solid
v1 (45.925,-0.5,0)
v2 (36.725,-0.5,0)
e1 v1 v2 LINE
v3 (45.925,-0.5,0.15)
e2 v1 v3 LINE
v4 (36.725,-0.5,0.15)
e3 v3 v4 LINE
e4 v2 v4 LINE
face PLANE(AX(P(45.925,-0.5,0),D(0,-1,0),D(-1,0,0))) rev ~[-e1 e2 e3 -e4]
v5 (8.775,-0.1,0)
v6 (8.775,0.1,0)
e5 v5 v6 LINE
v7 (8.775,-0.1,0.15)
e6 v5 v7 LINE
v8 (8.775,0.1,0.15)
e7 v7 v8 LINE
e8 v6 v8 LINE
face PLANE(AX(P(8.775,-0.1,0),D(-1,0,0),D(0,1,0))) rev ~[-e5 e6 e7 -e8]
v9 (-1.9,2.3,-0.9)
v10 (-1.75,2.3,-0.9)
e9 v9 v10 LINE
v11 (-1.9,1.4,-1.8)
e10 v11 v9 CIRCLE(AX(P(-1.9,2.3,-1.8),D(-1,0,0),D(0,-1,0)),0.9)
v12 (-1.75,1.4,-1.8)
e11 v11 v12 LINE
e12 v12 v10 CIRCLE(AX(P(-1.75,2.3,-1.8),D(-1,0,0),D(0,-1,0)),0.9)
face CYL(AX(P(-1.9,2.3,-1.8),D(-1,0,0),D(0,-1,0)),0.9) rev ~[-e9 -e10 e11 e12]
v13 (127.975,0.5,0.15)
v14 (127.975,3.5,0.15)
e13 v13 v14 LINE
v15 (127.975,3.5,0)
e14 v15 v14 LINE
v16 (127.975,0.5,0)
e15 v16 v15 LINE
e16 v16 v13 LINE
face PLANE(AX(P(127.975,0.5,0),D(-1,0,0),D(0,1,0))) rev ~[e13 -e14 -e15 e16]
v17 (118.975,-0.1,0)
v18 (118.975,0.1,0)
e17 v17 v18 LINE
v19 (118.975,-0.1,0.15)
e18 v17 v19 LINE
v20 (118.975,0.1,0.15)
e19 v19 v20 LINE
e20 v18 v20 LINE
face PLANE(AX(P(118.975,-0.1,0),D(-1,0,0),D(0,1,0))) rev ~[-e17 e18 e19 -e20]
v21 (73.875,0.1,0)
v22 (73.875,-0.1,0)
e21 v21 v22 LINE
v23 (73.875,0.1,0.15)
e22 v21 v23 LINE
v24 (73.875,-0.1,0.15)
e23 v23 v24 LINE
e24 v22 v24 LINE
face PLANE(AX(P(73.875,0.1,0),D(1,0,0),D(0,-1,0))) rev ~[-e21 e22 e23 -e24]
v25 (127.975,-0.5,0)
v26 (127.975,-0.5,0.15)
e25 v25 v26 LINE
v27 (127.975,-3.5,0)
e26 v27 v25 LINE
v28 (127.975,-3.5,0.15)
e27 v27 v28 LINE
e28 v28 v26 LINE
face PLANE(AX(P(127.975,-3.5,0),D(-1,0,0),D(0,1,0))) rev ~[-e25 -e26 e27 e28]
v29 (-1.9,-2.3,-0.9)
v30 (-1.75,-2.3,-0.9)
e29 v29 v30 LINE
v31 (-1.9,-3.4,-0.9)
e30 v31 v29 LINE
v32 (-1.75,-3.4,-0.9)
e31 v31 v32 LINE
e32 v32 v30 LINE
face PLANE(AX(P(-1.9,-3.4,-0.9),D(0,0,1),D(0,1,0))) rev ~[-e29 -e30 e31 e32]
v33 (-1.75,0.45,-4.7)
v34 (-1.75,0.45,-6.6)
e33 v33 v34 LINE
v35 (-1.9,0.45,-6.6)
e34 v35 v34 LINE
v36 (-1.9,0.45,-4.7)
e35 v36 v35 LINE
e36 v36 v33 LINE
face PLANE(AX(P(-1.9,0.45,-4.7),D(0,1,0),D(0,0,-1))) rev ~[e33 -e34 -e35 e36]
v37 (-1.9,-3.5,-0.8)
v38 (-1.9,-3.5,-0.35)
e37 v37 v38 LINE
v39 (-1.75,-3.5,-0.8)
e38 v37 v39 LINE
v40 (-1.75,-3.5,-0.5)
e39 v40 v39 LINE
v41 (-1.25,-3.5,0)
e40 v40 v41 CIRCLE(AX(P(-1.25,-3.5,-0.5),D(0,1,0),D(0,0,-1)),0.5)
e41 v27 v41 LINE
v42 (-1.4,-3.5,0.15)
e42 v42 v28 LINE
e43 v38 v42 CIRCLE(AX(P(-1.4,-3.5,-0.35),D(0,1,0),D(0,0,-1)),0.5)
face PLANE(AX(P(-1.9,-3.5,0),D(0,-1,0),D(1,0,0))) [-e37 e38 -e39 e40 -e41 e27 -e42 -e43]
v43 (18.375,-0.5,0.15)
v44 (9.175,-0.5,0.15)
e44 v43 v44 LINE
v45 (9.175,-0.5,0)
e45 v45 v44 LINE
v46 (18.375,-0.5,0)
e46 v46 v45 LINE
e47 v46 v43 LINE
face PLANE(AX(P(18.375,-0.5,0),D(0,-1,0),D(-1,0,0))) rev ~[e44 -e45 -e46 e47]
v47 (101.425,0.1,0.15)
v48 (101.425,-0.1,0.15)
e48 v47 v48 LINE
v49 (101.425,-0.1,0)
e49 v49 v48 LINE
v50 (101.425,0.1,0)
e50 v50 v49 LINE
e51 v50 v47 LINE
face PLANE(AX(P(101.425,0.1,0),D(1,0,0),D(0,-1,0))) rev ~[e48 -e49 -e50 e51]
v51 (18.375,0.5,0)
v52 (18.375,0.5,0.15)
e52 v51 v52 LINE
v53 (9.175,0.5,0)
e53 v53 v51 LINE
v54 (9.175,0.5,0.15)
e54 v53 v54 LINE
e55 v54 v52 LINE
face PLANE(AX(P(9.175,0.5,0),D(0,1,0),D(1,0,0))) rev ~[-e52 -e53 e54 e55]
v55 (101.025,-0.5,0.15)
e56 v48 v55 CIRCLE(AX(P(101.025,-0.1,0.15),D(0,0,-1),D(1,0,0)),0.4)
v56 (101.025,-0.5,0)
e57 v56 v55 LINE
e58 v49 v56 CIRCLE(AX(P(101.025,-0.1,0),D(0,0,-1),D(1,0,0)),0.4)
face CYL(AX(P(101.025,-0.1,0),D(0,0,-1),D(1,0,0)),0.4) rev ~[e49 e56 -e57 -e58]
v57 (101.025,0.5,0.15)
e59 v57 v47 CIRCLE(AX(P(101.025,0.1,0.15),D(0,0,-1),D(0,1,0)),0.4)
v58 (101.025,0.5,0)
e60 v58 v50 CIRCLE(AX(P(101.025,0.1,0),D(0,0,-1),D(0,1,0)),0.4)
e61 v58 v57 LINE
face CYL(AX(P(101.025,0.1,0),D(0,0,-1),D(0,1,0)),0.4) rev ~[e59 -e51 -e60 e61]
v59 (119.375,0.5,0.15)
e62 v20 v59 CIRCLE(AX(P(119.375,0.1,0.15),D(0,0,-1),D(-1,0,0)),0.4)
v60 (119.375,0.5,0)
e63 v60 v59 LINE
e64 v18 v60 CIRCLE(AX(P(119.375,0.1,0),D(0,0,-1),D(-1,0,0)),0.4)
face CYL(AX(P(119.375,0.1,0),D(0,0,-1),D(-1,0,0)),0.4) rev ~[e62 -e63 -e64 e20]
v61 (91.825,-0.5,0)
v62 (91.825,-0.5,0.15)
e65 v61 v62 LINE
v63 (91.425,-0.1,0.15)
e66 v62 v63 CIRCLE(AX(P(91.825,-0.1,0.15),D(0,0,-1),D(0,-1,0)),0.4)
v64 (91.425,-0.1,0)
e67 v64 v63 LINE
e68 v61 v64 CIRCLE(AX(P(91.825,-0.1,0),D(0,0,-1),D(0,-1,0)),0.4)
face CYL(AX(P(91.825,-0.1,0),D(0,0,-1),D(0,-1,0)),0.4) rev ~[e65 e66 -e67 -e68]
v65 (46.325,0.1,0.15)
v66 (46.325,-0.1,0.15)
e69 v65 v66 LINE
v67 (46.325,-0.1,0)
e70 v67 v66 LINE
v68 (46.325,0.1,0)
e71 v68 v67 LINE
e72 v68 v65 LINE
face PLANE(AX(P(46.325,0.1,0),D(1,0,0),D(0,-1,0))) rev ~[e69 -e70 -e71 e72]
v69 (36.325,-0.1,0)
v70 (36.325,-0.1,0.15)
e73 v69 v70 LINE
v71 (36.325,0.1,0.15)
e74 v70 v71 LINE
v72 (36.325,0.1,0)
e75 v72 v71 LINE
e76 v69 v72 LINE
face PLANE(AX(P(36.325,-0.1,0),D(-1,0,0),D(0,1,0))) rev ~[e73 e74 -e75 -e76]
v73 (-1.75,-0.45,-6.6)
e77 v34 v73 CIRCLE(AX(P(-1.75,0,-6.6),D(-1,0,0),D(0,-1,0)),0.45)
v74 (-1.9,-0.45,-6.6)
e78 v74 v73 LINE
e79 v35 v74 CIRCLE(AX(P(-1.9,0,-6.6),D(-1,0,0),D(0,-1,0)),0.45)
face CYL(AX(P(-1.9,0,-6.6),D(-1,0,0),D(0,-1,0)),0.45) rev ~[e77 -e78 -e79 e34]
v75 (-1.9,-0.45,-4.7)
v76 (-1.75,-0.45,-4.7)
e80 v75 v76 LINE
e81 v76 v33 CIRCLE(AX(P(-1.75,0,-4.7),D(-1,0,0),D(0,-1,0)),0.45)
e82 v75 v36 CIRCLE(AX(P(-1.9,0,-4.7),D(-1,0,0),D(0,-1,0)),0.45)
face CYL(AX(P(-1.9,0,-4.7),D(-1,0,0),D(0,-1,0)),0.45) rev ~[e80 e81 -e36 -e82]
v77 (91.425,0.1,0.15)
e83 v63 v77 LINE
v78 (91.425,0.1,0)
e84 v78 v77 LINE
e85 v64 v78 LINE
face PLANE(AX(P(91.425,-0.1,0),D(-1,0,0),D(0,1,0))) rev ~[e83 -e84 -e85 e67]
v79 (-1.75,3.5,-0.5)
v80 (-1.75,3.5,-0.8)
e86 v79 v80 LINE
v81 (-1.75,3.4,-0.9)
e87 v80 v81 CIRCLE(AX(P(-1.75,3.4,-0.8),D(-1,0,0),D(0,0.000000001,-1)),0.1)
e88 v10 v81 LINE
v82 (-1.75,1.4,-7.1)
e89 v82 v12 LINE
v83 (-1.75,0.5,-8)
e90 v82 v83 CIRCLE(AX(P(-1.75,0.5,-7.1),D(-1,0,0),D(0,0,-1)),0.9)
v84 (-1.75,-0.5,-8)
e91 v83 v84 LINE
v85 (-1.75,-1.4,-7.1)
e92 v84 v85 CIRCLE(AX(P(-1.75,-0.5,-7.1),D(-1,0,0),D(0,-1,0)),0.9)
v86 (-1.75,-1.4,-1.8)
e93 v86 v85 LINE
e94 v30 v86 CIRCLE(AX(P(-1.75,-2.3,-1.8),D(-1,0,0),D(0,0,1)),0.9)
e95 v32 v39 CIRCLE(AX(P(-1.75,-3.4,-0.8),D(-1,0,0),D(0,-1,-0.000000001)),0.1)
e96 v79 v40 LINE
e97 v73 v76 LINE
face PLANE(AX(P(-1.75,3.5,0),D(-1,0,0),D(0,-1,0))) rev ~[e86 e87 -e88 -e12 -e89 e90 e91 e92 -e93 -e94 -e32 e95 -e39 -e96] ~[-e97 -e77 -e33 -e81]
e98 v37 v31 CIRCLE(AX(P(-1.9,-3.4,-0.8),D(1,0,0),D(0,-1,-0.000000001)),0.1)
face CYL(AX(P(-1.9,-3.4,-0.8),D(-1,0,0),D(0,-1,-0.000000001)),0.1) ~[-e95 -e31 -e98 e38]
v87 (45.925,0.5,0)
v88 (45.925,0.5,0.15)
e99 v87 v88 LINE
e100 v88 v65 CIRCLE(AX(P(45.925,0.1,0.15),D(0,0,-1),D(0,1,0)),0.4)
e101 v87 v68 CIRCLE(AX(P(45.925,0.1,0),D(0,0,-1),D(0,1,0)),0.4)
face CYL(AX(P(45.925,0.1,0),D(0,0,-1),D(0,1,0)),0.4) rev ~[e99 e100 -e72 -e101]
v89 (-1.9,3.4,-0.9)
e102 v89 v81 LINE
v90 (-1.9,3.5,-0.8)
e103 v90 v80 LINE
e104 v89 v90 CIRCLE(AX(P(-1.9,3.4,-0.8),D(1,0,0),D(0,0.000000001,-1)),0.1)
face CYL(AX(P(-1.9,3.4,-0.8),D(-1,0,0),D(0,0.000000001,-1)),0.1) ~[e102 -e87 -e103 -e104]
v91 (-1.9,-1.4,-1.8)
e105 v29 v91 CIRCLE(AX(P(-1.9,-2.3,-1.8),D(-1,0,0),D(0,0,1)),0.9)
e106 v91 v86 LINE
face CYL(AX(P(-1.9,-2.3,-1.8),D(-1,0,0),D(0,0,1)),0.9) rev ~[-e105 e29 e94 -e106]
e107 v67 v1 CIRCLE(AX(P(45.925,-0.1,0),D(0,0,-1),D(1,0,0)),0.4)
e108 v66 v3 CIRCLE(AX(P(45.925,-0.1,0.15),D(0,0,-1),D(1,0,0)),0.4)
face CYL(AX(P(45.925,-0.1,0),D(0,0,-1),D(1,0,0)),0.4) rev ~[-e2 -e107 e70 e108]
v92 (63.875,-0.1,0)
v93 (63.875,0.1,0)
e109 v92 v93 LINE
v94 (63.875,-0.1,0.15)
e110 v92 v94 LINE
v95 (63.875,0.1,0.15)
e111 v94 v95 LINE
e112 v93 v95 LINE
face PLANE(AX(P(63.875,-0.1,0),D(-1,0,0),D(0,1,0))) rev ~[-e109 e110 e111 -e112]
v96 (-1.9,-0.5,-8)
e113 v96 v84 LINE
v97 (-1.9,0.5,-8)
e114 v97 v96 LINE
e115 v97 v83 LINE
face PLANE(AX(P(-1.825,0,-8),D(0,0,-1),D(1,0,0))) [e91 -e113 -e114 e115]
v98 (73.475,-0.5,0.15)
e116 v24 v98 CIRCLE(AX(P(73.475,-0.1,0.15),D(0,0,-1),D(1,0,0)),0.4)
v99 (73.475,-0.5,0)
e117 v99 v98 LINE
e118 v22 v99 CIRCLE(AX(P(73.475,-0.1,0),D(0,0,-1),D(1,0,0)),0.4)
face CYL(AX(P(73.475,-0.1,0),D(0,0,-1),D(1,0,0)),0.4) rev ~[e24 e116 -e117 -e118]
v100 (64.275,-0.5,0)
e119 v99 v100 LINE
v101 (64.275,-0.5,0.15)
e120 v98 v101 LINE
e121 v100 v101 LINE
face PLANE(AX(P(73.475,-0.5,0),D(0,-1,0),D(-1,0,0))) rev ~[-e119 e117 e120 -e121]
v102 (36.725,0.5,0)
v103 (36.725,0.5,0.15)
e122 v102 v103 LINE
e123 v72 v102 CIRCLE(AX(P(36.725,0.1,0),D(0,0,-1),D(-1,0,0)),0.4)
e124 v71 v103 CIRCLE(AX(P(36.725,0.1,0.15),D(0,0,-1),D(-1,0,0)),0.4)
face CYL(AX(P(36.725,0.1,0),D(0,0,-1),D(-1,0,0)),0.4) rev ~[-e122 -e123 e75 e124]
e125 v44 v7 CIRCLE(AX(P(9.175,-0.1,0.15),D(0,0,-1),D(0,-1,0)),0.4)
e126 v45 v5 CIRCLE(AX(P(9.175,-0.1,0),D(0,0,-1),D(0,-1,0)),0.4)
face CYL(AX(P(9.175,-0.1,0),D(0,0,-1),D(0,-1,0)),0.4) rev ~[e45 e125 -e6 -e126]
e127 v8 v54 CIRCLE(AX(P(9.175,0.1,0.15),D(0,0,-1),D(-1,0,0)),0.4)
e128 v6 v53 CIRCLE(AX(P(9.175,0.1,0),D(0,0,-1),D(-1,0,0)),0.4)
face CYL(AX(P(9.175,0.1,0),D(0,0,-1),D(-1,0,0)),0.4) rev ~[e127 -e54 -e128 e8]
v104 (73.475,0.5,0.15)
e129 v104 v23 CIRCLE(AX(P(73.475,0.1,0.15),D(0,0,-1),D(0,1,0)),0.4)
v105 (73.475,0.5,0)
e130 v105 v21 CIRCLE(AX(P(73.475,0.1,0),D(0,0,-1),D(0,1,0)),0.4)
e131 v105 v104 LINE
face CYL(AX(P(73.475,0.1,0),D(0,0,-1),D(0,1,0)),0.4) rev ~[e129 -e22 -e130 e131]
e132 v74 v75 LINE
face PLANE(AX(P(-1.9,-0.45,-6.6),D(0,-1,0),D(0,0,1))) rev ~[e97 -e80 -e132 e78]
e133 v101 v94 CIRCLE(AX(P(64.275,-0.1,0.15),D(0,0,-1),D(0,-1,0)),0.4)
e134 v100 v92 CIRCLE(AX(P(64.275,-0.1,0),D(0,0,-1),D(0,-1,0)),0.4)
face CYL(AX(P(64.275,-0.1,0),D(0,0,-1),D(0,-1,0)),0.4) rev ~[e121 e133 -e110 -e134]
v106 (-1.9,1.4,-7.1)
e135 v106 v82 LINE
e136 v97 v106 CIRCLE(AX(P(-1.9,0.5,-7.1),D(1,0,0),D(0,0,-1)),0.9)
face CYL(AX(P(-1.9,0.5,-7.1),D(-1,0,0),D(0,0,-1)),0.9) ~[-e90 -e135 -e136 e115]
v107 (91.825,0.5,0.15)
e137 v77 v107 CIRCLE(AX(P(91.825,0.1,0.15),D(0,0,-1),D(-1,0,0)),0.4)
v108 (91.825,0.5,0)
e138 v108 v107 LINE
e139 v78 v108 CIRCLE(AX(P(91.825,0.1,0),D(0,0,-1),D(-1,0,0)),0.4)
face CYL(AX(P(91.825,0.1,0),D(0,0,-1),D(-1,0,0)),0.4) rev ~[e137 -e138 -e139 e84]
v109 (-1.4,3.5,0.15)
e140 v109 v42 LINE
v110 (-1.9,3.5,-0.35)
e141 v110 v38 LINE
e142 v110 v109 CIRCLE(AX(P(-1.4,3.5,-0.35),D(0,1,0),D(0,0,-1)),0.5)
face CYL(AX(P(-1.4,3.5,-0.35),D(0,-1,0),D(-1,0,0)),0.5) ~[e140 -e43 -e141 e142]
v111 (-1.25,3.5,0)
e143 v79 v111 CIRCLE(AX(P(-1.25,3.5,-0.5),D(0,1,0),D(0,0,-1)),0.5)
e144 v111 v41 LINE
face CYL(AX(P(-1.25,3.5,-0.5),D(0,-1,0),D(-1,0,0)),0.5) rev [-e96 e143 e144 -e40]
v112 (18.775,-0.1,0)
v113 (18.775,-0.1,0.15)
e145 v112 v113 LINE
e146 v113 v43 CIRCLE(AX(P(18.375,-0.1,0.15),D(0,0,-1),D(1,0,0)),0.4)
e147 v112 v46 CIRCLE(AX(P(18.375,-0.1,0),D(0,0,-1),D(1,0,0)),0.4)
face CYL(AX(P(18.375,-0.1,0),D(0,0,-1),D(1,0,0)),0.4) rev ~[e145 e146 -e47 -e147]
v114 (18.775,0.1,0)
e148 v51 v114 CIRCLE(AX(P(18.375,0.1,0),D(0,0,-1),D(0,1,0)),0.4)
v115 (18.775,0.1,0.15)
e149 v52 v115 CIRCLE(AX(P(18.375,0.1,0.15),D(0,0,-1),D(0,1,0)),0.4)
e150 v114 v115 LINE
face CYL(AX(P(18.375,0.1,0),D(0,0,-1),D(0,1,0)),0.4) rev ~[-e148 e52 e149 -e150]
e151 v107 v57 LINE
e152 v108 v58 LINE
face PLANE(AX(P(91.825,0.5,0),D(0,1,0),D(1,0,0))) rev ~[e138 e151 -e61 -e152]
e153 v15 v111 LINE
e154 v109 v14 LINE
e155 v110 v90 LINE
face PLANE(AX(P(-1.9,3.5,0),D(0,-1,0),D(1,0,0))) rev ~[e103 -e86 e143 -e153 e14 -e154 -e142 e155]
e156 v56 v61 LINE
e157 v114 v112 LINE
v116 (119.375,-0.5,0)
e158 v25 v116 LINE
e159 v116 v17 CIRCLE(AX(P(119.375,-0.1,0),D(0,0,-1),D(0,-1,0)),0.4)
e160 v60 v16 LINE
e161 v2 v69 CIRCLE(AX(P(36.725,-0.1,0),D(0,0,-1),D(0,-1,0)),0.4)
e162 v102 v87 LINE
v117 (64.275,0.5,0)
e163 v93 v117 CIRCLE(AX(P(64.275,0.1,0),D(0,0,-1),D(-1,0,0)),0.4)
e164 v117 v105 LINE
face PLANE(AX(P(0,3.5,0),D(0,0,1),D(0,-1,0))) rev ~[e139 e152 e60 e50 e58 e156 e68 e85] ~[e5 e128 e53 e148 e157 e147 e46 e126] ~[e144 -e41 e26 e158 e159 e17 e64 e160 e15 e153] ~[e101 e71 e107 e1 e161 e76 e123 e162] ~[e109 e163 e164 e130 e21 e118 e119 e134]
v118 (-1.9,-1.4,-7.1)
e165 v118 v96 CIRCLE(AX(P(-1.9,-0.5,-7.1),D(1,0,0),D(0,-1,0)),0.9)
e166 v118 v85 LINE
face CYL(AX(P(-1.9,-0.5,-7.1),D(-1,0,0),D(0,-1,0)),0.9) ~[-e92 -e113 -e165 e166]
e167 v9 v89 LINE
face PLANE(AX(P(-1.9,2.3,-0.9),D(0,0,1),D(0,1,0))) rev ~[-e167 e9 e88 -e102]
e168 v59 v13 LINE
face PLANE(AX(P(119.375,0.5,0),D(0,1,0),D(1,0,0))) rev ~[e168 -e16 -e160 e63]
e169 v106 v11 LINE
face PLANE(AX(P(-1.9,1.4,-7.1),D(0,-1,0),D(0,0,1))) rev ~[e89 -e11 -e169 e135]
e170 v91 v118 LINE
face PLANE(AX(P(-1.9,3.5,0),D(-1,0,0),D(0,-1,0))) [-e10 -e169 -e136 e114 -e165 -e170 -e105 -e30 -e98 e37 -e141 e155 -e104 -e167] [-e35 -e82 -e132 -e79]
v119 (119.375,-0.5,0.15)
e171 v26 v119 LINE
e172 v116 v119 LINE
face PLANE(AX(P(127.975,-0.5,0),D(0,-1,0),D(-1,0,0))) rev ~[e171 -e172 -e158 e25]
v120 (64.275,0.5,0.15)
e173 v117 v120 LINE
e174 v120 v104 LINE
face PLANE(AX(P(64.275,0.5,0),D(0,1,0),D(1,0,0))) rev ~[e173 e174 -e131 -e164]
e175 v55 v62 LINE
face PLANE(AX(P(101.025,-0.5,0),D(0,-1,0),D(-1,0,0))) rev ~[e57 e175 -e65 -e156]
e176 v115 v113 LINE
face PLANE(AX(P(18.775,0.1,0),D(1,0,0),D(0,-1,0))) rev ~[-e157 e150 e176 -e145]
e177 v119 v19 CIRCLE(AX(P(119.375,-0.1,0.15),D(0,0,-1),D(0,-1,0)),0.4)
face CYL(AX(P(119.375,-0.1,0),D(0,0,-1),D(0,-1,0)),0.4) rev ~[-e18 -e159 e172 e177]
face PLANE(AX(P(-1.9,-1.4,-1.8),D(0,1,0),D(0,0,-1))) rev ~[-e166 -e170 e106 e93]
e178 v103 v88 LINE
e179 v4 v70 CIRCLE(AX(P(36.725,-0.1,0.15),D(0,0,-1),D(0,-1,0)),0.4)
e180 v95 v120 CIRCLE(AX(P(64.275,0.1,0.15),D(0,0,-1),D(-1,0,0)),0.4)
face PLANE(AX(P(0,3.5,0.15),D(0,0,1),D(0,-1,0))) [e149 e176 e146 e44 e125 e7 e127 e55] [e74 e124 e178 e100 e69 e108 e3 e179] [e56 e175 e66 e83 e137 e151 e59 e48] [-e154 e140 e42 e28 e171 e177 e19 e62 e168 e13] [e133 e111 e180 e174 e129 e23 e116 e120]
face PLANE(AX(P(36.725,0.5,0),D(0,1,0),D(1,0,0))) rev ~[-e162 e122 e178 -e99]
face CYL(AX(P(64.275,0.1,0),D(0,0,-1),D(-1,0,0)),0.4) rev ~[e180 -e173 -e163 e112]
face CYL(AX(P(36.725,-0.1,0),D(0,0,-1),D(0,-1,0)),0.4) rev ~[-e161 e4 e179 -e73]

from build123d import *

# Parameters (mm, degrees)
F0_W     = 4
F0_H     = 3
F1_DEPTH = 0.15
F2_DEPTH = 1.9
F3_W     = 0.15
F3_H     = 7
F4_DEPTH = 8
F6_DEPTH = 25
F7_R     = 0.5


with BuildPart() as f1:
    # F0 (on Top) → F1 (new body)
    with BuildSketch(Plane.XY):
        with BuildLine():
            Line((96.425, -0.5), (96.425, -3.5))
            Line((96.425, -3.5), (100.425, -3.5))
            Line((100.425, -3.5), (110.2, -3.5))
            Line((110.2, -3.5), (123.975, -3.5))
            Line((123.975, -3.5), (123.975, -0.5))
            Line((123.975, -0.5), (119.375, -0.5))
            ThreePointArc((119.375, -0.5), (119.0921572875, -0.3828427125), (118.975, -0.1))
            Line((118.975, -0.1), (118.975, 0.1))
            ThreePointArc((118.975, 0.1), (119.0921572875, 0.3828427125), (119.375, 0.5))
            Line((119.375, 0.5), (123.975, 0.5))
            Line((123.975, 0.5), (123.975, 3.5))
            Line((123.975, 3.5), (110.2, 3.5))
            Line((110.2, 3.5), (100.425, 3.5))
            Line((100.425, 3.5), (96.425, 3.5))
            Line((96.425, 3.5), (96.425, 0.5))
            Line((96.425, 0.5), (101.025, 0.5))
            ThreePointArc((101.025, 0.5), (101.3078427125, 0.3828427125), (101.425, 0.1))
            Line((101.425, 0.1), (101.425, -0.1))
            ThreePointArc((101.425, -0.1), (101.3078427125, -0.3828427125), (101.025, -0.5))
            Line((101.025, -0.5), (96.425, -0.5))
        make_face()
        with BuildLine():
            Line((13.775, -0.5), (13.775, -3.5))
            Line((13.775, -3.5), (27.55, -3.5))
            Line((27.55, -3.5), (41.325, -3.5))
            Line((41.325, -3.5), (41.325, -0.5))
            Line((41.325, -0.5), (36.725, -0.5))
            ThreePointArc((36.725, -0.5), (36.4421572875, -0.3828427125), (36.325, -0.1))
            Line((36.325, -0.1), (36.325, 0.1))
            ThreePointArc((36.325, 0.1), (36.4421572875, 0.3828427125), (36.725, 0.5))
            Line((36.725, 0.5), (41.325, 0.5))
            Line((41.325, 0.5), (41.325, 3.5))
            Line((41.325, 3.5), (27.55, 3.5))
            Line((27.55, 3.5), (13.775, 3.5))
            Line((13.775, 3.5), (13.775, 0.5))
            Line((13.775, 0.5), (18.375, 0.5))
            ThreePointArc((18.375, 0.5), (18.6578427125, 0.3828427125), (18.775, 0.1))
            Line((18.775, 0.1), (18.775, -0.1))
            ThreePointArc((18.775, -0.1), (18.6578427125, -0.3828427125), (18.375, -0.5))
            Line((18.375, -0.5), (13.775, -0.5))
        make_face()
        with BuildLine():
            Line((41.325, -0.5), (41.325, -3.5))
            Line((41.325, -3.5), (55.1, -3.5))
            Line((55.1, -3.5), (68.875, -3.5))
            Line((68.875, -3.5), (68.875, -0.5))
            Line((68.875, -0.5), (64.275, -0.5))
            ThreePointArc((64.275, -0.5), (63.9921572875, -0.3828427125), (63.875, -0.1))
            Line((63.875, -0.1), (63.875, 0.1))
            ThreePointArc((63.875, 0.1), (63.9921572875, 0.3828427125), (64.275, 0.5))
            Line((64.275, 0.5), (68.875, 0.5))
            Line((68.875, 0.5), (68.875, 3.5))
            Line((68.875, 3.5), (55.1, 3.5))
            Line((55.1, 3.5), (41.325, 3.5))
            Line((41.325, 3.5), (41.325, 0.5))
            Line((41.325, 0.5), (45.925, 0.5))
            ThreePointArc((45.925, 0.5), (46.2078427125, 0.3828427125), (46.325, 0.1))
            Line((46.325, 0.1), (46.325, -0.1))
            ThreePointArc((46.325, -0.1), (46.2078427125, -0.3828427125), (45.925, -0.5))
            Line((45.925, -0.5), (41.325, -0.5))
        make_face()
        with BuildLine():
            Line((68.875, -0.5), (68.875, -3.5))
            Line((68.875, -3.5), (82.65, -3.5))
            Line((82.65, -3.5), (96.425, -3.5))
            Line((96.425, -3.5), (96.425, -0.5))
            Line((96.425, -0.5), (91.825, -0.5))
            ThreePointArc((91.825, -0.5), (91.5421572875, -0.3828427125), (91.425, -0.1))
            Line((91.425, -0.1), (91.425, 0.1))
            ThreePointArc((91.425, 0.1), (91.5421572875, 0.3828427125), (91.825, 0.5))
            Line((91.825, 0.5), (96.425, 0.5))
            Line((96.425, 0.5), (96.425, 3.5))
            Line((96.425, 3.5), (82.65, 3.5))
            Line((82.65, 3.5), (68.875, 3.5))
            Line((68.875, 3.5), (68.875, 0.5))
            Line((68.875, 0.5), (73.475, 0.5))
            ThreePointArc((73.475, 0.5), (73.7578427125, 0.3828427125), (73.875, 0.1))
            Line((73.875, 0.1), (73.875, -0.1))
            ThreePointArc((73.875, -0.1), (73.7578427125, -0.3828427125), (73.475, -0.5))
            Line((73.475, -0.5), (68.875, -0.5))
        make_face()
        with BuildLine():
            Line((0, 3.5), (0, -3.5))
            Line((0, -3.5), (13.775, -3.5))
            Line((13.775, -3.5), (13.775, -0.5))
            Line((13.775, -0.5), (9.175, -0.5))
            ThreePointArc((9.175, -0.5), (8.8921572875, -0.3828427125), (8.775, -0.1))
            Line((8.775, -0.1), (8.775, 0.1))
            ThreePointArc((8.775, 0.1), (8.8921572875, 0.3828427125), (9.175, 0.5))
            Line((9.175, 0.5), (13.775, 0.5))
            Line((13.775, 0.5), (13.775, 3.5))
            Line((13.775, 3.5), (0, 3.5))
        make_face()
        with Locations((125.975, -2)):
            Rectangle(F0_W, F0_H)
        with Locations((125.975, 2)):
            Rectangle(F0_W, F0_H)
    extrude(amount=F1_DEPTH)

    # F2 (add): a face of the model
    f2_faces = [f1.faces().sort_by_distance(p)[0] for p in [
        (0, 0, 0.075),
    ]]
    extrude(f2_faces, amount=F2_DEPTH)

    # F3 (on face) → F4 (join)
    with BuildSketch(Plane(origin=(0, 0, 0), x_dir=(1, 0, 0), z_dir=(0, 0, -1))):
        with Locations((-1.825, 0)):
            Rectangle(F3_W, F3_H)
    extrude(amount=F4_DEPTH)

    # F5 (on face) → F6 (cut)
    with BuildSketch(Plane(origin=(-1.9, 0, 0), x_dir=(0, -1, 0), z_dir=(-1, 0, 0))):
        with BuildLine():
            ThreePointArc((1.4, -7.1), (1.1363961031, -7.7363961031), (0.5, -8))
            Line((0.5, -8), (3.5, -8))
            Line((3.5, -8), (3.5, -0.8))
            ThreePointArc((3.5, -0.8), (3.4707106781, -0.8707106781), (3.4, -0.9))
            Line((3.4, -0.9), (2.3, -0.9))
            ThreePointArc((2.3, -0.9), (1.6636038969, -1.1636038969), (1.4, -1.8))
            Line((1.4, -1.8), (1.4, -7.1))
        make_face()
        with BuildLine():
            Line((-3.5, -8), (-0.5, -8))
            ThreePointArc((-0.5, -8), (-1.1363961031, -7.7363961031), (-1.4, -7.1))
            Line((-1.4, -7.1), (-1.4, -1.8))
            ThreePointArc((-1.4, -1.8), (-1.6636038969, -1.1636038969), (-2.3, -0.9))
            Line((-2.3, -0.9), (-3.4, -0.9))
            ThreePointArc((-3.4, -0.9), (-3.4707106781, -0.8707106781), (-3.5, -0.8))
            Line((-3.5, -0.8), (-3.5, -8))
        make_face()
        with BuildLine():
            ThreePointArc((-0.45, -4.7), (0, -5.15), (0.45, -4.7))
            ThreePointArc((0.45, -4.7), (0, -4.25), (-0.45, -4.7))
        make_face()
        with BuildLine():
            ThreePointArc((-0.45, -6.6), (0, -6.15), (0.45, -6.6))
            Line((0.45, -6.6), (0.45, -4.7))
            ThreePointArc((0.45, -4.7), (0, -5.15), (-0.45, -4.7))
            Line((-0.45, -4.7), (-0.45, -6.6))
        make_face()
        with BuildLine():
            ThreePointArc((-0.45, -6.6), (0, -7.05), (0.45, -6.6))
            ThreePointArc((0.45, -6.6), (0, -6.15), (-0.45, -6.6))
        make_face()
    extrude(amount=-F6_DEPTH, mode=Mode.SUBTRACT)

    # F7
    f7_edges = [f1.edges().sort_by_distance(p)[0] for p in [
        (-1.9, 0, 0.15),
        (-1.75, 0, 0),
    ]]
    fillet(f7_edges, radius=F7_R)


solid = f1.part
